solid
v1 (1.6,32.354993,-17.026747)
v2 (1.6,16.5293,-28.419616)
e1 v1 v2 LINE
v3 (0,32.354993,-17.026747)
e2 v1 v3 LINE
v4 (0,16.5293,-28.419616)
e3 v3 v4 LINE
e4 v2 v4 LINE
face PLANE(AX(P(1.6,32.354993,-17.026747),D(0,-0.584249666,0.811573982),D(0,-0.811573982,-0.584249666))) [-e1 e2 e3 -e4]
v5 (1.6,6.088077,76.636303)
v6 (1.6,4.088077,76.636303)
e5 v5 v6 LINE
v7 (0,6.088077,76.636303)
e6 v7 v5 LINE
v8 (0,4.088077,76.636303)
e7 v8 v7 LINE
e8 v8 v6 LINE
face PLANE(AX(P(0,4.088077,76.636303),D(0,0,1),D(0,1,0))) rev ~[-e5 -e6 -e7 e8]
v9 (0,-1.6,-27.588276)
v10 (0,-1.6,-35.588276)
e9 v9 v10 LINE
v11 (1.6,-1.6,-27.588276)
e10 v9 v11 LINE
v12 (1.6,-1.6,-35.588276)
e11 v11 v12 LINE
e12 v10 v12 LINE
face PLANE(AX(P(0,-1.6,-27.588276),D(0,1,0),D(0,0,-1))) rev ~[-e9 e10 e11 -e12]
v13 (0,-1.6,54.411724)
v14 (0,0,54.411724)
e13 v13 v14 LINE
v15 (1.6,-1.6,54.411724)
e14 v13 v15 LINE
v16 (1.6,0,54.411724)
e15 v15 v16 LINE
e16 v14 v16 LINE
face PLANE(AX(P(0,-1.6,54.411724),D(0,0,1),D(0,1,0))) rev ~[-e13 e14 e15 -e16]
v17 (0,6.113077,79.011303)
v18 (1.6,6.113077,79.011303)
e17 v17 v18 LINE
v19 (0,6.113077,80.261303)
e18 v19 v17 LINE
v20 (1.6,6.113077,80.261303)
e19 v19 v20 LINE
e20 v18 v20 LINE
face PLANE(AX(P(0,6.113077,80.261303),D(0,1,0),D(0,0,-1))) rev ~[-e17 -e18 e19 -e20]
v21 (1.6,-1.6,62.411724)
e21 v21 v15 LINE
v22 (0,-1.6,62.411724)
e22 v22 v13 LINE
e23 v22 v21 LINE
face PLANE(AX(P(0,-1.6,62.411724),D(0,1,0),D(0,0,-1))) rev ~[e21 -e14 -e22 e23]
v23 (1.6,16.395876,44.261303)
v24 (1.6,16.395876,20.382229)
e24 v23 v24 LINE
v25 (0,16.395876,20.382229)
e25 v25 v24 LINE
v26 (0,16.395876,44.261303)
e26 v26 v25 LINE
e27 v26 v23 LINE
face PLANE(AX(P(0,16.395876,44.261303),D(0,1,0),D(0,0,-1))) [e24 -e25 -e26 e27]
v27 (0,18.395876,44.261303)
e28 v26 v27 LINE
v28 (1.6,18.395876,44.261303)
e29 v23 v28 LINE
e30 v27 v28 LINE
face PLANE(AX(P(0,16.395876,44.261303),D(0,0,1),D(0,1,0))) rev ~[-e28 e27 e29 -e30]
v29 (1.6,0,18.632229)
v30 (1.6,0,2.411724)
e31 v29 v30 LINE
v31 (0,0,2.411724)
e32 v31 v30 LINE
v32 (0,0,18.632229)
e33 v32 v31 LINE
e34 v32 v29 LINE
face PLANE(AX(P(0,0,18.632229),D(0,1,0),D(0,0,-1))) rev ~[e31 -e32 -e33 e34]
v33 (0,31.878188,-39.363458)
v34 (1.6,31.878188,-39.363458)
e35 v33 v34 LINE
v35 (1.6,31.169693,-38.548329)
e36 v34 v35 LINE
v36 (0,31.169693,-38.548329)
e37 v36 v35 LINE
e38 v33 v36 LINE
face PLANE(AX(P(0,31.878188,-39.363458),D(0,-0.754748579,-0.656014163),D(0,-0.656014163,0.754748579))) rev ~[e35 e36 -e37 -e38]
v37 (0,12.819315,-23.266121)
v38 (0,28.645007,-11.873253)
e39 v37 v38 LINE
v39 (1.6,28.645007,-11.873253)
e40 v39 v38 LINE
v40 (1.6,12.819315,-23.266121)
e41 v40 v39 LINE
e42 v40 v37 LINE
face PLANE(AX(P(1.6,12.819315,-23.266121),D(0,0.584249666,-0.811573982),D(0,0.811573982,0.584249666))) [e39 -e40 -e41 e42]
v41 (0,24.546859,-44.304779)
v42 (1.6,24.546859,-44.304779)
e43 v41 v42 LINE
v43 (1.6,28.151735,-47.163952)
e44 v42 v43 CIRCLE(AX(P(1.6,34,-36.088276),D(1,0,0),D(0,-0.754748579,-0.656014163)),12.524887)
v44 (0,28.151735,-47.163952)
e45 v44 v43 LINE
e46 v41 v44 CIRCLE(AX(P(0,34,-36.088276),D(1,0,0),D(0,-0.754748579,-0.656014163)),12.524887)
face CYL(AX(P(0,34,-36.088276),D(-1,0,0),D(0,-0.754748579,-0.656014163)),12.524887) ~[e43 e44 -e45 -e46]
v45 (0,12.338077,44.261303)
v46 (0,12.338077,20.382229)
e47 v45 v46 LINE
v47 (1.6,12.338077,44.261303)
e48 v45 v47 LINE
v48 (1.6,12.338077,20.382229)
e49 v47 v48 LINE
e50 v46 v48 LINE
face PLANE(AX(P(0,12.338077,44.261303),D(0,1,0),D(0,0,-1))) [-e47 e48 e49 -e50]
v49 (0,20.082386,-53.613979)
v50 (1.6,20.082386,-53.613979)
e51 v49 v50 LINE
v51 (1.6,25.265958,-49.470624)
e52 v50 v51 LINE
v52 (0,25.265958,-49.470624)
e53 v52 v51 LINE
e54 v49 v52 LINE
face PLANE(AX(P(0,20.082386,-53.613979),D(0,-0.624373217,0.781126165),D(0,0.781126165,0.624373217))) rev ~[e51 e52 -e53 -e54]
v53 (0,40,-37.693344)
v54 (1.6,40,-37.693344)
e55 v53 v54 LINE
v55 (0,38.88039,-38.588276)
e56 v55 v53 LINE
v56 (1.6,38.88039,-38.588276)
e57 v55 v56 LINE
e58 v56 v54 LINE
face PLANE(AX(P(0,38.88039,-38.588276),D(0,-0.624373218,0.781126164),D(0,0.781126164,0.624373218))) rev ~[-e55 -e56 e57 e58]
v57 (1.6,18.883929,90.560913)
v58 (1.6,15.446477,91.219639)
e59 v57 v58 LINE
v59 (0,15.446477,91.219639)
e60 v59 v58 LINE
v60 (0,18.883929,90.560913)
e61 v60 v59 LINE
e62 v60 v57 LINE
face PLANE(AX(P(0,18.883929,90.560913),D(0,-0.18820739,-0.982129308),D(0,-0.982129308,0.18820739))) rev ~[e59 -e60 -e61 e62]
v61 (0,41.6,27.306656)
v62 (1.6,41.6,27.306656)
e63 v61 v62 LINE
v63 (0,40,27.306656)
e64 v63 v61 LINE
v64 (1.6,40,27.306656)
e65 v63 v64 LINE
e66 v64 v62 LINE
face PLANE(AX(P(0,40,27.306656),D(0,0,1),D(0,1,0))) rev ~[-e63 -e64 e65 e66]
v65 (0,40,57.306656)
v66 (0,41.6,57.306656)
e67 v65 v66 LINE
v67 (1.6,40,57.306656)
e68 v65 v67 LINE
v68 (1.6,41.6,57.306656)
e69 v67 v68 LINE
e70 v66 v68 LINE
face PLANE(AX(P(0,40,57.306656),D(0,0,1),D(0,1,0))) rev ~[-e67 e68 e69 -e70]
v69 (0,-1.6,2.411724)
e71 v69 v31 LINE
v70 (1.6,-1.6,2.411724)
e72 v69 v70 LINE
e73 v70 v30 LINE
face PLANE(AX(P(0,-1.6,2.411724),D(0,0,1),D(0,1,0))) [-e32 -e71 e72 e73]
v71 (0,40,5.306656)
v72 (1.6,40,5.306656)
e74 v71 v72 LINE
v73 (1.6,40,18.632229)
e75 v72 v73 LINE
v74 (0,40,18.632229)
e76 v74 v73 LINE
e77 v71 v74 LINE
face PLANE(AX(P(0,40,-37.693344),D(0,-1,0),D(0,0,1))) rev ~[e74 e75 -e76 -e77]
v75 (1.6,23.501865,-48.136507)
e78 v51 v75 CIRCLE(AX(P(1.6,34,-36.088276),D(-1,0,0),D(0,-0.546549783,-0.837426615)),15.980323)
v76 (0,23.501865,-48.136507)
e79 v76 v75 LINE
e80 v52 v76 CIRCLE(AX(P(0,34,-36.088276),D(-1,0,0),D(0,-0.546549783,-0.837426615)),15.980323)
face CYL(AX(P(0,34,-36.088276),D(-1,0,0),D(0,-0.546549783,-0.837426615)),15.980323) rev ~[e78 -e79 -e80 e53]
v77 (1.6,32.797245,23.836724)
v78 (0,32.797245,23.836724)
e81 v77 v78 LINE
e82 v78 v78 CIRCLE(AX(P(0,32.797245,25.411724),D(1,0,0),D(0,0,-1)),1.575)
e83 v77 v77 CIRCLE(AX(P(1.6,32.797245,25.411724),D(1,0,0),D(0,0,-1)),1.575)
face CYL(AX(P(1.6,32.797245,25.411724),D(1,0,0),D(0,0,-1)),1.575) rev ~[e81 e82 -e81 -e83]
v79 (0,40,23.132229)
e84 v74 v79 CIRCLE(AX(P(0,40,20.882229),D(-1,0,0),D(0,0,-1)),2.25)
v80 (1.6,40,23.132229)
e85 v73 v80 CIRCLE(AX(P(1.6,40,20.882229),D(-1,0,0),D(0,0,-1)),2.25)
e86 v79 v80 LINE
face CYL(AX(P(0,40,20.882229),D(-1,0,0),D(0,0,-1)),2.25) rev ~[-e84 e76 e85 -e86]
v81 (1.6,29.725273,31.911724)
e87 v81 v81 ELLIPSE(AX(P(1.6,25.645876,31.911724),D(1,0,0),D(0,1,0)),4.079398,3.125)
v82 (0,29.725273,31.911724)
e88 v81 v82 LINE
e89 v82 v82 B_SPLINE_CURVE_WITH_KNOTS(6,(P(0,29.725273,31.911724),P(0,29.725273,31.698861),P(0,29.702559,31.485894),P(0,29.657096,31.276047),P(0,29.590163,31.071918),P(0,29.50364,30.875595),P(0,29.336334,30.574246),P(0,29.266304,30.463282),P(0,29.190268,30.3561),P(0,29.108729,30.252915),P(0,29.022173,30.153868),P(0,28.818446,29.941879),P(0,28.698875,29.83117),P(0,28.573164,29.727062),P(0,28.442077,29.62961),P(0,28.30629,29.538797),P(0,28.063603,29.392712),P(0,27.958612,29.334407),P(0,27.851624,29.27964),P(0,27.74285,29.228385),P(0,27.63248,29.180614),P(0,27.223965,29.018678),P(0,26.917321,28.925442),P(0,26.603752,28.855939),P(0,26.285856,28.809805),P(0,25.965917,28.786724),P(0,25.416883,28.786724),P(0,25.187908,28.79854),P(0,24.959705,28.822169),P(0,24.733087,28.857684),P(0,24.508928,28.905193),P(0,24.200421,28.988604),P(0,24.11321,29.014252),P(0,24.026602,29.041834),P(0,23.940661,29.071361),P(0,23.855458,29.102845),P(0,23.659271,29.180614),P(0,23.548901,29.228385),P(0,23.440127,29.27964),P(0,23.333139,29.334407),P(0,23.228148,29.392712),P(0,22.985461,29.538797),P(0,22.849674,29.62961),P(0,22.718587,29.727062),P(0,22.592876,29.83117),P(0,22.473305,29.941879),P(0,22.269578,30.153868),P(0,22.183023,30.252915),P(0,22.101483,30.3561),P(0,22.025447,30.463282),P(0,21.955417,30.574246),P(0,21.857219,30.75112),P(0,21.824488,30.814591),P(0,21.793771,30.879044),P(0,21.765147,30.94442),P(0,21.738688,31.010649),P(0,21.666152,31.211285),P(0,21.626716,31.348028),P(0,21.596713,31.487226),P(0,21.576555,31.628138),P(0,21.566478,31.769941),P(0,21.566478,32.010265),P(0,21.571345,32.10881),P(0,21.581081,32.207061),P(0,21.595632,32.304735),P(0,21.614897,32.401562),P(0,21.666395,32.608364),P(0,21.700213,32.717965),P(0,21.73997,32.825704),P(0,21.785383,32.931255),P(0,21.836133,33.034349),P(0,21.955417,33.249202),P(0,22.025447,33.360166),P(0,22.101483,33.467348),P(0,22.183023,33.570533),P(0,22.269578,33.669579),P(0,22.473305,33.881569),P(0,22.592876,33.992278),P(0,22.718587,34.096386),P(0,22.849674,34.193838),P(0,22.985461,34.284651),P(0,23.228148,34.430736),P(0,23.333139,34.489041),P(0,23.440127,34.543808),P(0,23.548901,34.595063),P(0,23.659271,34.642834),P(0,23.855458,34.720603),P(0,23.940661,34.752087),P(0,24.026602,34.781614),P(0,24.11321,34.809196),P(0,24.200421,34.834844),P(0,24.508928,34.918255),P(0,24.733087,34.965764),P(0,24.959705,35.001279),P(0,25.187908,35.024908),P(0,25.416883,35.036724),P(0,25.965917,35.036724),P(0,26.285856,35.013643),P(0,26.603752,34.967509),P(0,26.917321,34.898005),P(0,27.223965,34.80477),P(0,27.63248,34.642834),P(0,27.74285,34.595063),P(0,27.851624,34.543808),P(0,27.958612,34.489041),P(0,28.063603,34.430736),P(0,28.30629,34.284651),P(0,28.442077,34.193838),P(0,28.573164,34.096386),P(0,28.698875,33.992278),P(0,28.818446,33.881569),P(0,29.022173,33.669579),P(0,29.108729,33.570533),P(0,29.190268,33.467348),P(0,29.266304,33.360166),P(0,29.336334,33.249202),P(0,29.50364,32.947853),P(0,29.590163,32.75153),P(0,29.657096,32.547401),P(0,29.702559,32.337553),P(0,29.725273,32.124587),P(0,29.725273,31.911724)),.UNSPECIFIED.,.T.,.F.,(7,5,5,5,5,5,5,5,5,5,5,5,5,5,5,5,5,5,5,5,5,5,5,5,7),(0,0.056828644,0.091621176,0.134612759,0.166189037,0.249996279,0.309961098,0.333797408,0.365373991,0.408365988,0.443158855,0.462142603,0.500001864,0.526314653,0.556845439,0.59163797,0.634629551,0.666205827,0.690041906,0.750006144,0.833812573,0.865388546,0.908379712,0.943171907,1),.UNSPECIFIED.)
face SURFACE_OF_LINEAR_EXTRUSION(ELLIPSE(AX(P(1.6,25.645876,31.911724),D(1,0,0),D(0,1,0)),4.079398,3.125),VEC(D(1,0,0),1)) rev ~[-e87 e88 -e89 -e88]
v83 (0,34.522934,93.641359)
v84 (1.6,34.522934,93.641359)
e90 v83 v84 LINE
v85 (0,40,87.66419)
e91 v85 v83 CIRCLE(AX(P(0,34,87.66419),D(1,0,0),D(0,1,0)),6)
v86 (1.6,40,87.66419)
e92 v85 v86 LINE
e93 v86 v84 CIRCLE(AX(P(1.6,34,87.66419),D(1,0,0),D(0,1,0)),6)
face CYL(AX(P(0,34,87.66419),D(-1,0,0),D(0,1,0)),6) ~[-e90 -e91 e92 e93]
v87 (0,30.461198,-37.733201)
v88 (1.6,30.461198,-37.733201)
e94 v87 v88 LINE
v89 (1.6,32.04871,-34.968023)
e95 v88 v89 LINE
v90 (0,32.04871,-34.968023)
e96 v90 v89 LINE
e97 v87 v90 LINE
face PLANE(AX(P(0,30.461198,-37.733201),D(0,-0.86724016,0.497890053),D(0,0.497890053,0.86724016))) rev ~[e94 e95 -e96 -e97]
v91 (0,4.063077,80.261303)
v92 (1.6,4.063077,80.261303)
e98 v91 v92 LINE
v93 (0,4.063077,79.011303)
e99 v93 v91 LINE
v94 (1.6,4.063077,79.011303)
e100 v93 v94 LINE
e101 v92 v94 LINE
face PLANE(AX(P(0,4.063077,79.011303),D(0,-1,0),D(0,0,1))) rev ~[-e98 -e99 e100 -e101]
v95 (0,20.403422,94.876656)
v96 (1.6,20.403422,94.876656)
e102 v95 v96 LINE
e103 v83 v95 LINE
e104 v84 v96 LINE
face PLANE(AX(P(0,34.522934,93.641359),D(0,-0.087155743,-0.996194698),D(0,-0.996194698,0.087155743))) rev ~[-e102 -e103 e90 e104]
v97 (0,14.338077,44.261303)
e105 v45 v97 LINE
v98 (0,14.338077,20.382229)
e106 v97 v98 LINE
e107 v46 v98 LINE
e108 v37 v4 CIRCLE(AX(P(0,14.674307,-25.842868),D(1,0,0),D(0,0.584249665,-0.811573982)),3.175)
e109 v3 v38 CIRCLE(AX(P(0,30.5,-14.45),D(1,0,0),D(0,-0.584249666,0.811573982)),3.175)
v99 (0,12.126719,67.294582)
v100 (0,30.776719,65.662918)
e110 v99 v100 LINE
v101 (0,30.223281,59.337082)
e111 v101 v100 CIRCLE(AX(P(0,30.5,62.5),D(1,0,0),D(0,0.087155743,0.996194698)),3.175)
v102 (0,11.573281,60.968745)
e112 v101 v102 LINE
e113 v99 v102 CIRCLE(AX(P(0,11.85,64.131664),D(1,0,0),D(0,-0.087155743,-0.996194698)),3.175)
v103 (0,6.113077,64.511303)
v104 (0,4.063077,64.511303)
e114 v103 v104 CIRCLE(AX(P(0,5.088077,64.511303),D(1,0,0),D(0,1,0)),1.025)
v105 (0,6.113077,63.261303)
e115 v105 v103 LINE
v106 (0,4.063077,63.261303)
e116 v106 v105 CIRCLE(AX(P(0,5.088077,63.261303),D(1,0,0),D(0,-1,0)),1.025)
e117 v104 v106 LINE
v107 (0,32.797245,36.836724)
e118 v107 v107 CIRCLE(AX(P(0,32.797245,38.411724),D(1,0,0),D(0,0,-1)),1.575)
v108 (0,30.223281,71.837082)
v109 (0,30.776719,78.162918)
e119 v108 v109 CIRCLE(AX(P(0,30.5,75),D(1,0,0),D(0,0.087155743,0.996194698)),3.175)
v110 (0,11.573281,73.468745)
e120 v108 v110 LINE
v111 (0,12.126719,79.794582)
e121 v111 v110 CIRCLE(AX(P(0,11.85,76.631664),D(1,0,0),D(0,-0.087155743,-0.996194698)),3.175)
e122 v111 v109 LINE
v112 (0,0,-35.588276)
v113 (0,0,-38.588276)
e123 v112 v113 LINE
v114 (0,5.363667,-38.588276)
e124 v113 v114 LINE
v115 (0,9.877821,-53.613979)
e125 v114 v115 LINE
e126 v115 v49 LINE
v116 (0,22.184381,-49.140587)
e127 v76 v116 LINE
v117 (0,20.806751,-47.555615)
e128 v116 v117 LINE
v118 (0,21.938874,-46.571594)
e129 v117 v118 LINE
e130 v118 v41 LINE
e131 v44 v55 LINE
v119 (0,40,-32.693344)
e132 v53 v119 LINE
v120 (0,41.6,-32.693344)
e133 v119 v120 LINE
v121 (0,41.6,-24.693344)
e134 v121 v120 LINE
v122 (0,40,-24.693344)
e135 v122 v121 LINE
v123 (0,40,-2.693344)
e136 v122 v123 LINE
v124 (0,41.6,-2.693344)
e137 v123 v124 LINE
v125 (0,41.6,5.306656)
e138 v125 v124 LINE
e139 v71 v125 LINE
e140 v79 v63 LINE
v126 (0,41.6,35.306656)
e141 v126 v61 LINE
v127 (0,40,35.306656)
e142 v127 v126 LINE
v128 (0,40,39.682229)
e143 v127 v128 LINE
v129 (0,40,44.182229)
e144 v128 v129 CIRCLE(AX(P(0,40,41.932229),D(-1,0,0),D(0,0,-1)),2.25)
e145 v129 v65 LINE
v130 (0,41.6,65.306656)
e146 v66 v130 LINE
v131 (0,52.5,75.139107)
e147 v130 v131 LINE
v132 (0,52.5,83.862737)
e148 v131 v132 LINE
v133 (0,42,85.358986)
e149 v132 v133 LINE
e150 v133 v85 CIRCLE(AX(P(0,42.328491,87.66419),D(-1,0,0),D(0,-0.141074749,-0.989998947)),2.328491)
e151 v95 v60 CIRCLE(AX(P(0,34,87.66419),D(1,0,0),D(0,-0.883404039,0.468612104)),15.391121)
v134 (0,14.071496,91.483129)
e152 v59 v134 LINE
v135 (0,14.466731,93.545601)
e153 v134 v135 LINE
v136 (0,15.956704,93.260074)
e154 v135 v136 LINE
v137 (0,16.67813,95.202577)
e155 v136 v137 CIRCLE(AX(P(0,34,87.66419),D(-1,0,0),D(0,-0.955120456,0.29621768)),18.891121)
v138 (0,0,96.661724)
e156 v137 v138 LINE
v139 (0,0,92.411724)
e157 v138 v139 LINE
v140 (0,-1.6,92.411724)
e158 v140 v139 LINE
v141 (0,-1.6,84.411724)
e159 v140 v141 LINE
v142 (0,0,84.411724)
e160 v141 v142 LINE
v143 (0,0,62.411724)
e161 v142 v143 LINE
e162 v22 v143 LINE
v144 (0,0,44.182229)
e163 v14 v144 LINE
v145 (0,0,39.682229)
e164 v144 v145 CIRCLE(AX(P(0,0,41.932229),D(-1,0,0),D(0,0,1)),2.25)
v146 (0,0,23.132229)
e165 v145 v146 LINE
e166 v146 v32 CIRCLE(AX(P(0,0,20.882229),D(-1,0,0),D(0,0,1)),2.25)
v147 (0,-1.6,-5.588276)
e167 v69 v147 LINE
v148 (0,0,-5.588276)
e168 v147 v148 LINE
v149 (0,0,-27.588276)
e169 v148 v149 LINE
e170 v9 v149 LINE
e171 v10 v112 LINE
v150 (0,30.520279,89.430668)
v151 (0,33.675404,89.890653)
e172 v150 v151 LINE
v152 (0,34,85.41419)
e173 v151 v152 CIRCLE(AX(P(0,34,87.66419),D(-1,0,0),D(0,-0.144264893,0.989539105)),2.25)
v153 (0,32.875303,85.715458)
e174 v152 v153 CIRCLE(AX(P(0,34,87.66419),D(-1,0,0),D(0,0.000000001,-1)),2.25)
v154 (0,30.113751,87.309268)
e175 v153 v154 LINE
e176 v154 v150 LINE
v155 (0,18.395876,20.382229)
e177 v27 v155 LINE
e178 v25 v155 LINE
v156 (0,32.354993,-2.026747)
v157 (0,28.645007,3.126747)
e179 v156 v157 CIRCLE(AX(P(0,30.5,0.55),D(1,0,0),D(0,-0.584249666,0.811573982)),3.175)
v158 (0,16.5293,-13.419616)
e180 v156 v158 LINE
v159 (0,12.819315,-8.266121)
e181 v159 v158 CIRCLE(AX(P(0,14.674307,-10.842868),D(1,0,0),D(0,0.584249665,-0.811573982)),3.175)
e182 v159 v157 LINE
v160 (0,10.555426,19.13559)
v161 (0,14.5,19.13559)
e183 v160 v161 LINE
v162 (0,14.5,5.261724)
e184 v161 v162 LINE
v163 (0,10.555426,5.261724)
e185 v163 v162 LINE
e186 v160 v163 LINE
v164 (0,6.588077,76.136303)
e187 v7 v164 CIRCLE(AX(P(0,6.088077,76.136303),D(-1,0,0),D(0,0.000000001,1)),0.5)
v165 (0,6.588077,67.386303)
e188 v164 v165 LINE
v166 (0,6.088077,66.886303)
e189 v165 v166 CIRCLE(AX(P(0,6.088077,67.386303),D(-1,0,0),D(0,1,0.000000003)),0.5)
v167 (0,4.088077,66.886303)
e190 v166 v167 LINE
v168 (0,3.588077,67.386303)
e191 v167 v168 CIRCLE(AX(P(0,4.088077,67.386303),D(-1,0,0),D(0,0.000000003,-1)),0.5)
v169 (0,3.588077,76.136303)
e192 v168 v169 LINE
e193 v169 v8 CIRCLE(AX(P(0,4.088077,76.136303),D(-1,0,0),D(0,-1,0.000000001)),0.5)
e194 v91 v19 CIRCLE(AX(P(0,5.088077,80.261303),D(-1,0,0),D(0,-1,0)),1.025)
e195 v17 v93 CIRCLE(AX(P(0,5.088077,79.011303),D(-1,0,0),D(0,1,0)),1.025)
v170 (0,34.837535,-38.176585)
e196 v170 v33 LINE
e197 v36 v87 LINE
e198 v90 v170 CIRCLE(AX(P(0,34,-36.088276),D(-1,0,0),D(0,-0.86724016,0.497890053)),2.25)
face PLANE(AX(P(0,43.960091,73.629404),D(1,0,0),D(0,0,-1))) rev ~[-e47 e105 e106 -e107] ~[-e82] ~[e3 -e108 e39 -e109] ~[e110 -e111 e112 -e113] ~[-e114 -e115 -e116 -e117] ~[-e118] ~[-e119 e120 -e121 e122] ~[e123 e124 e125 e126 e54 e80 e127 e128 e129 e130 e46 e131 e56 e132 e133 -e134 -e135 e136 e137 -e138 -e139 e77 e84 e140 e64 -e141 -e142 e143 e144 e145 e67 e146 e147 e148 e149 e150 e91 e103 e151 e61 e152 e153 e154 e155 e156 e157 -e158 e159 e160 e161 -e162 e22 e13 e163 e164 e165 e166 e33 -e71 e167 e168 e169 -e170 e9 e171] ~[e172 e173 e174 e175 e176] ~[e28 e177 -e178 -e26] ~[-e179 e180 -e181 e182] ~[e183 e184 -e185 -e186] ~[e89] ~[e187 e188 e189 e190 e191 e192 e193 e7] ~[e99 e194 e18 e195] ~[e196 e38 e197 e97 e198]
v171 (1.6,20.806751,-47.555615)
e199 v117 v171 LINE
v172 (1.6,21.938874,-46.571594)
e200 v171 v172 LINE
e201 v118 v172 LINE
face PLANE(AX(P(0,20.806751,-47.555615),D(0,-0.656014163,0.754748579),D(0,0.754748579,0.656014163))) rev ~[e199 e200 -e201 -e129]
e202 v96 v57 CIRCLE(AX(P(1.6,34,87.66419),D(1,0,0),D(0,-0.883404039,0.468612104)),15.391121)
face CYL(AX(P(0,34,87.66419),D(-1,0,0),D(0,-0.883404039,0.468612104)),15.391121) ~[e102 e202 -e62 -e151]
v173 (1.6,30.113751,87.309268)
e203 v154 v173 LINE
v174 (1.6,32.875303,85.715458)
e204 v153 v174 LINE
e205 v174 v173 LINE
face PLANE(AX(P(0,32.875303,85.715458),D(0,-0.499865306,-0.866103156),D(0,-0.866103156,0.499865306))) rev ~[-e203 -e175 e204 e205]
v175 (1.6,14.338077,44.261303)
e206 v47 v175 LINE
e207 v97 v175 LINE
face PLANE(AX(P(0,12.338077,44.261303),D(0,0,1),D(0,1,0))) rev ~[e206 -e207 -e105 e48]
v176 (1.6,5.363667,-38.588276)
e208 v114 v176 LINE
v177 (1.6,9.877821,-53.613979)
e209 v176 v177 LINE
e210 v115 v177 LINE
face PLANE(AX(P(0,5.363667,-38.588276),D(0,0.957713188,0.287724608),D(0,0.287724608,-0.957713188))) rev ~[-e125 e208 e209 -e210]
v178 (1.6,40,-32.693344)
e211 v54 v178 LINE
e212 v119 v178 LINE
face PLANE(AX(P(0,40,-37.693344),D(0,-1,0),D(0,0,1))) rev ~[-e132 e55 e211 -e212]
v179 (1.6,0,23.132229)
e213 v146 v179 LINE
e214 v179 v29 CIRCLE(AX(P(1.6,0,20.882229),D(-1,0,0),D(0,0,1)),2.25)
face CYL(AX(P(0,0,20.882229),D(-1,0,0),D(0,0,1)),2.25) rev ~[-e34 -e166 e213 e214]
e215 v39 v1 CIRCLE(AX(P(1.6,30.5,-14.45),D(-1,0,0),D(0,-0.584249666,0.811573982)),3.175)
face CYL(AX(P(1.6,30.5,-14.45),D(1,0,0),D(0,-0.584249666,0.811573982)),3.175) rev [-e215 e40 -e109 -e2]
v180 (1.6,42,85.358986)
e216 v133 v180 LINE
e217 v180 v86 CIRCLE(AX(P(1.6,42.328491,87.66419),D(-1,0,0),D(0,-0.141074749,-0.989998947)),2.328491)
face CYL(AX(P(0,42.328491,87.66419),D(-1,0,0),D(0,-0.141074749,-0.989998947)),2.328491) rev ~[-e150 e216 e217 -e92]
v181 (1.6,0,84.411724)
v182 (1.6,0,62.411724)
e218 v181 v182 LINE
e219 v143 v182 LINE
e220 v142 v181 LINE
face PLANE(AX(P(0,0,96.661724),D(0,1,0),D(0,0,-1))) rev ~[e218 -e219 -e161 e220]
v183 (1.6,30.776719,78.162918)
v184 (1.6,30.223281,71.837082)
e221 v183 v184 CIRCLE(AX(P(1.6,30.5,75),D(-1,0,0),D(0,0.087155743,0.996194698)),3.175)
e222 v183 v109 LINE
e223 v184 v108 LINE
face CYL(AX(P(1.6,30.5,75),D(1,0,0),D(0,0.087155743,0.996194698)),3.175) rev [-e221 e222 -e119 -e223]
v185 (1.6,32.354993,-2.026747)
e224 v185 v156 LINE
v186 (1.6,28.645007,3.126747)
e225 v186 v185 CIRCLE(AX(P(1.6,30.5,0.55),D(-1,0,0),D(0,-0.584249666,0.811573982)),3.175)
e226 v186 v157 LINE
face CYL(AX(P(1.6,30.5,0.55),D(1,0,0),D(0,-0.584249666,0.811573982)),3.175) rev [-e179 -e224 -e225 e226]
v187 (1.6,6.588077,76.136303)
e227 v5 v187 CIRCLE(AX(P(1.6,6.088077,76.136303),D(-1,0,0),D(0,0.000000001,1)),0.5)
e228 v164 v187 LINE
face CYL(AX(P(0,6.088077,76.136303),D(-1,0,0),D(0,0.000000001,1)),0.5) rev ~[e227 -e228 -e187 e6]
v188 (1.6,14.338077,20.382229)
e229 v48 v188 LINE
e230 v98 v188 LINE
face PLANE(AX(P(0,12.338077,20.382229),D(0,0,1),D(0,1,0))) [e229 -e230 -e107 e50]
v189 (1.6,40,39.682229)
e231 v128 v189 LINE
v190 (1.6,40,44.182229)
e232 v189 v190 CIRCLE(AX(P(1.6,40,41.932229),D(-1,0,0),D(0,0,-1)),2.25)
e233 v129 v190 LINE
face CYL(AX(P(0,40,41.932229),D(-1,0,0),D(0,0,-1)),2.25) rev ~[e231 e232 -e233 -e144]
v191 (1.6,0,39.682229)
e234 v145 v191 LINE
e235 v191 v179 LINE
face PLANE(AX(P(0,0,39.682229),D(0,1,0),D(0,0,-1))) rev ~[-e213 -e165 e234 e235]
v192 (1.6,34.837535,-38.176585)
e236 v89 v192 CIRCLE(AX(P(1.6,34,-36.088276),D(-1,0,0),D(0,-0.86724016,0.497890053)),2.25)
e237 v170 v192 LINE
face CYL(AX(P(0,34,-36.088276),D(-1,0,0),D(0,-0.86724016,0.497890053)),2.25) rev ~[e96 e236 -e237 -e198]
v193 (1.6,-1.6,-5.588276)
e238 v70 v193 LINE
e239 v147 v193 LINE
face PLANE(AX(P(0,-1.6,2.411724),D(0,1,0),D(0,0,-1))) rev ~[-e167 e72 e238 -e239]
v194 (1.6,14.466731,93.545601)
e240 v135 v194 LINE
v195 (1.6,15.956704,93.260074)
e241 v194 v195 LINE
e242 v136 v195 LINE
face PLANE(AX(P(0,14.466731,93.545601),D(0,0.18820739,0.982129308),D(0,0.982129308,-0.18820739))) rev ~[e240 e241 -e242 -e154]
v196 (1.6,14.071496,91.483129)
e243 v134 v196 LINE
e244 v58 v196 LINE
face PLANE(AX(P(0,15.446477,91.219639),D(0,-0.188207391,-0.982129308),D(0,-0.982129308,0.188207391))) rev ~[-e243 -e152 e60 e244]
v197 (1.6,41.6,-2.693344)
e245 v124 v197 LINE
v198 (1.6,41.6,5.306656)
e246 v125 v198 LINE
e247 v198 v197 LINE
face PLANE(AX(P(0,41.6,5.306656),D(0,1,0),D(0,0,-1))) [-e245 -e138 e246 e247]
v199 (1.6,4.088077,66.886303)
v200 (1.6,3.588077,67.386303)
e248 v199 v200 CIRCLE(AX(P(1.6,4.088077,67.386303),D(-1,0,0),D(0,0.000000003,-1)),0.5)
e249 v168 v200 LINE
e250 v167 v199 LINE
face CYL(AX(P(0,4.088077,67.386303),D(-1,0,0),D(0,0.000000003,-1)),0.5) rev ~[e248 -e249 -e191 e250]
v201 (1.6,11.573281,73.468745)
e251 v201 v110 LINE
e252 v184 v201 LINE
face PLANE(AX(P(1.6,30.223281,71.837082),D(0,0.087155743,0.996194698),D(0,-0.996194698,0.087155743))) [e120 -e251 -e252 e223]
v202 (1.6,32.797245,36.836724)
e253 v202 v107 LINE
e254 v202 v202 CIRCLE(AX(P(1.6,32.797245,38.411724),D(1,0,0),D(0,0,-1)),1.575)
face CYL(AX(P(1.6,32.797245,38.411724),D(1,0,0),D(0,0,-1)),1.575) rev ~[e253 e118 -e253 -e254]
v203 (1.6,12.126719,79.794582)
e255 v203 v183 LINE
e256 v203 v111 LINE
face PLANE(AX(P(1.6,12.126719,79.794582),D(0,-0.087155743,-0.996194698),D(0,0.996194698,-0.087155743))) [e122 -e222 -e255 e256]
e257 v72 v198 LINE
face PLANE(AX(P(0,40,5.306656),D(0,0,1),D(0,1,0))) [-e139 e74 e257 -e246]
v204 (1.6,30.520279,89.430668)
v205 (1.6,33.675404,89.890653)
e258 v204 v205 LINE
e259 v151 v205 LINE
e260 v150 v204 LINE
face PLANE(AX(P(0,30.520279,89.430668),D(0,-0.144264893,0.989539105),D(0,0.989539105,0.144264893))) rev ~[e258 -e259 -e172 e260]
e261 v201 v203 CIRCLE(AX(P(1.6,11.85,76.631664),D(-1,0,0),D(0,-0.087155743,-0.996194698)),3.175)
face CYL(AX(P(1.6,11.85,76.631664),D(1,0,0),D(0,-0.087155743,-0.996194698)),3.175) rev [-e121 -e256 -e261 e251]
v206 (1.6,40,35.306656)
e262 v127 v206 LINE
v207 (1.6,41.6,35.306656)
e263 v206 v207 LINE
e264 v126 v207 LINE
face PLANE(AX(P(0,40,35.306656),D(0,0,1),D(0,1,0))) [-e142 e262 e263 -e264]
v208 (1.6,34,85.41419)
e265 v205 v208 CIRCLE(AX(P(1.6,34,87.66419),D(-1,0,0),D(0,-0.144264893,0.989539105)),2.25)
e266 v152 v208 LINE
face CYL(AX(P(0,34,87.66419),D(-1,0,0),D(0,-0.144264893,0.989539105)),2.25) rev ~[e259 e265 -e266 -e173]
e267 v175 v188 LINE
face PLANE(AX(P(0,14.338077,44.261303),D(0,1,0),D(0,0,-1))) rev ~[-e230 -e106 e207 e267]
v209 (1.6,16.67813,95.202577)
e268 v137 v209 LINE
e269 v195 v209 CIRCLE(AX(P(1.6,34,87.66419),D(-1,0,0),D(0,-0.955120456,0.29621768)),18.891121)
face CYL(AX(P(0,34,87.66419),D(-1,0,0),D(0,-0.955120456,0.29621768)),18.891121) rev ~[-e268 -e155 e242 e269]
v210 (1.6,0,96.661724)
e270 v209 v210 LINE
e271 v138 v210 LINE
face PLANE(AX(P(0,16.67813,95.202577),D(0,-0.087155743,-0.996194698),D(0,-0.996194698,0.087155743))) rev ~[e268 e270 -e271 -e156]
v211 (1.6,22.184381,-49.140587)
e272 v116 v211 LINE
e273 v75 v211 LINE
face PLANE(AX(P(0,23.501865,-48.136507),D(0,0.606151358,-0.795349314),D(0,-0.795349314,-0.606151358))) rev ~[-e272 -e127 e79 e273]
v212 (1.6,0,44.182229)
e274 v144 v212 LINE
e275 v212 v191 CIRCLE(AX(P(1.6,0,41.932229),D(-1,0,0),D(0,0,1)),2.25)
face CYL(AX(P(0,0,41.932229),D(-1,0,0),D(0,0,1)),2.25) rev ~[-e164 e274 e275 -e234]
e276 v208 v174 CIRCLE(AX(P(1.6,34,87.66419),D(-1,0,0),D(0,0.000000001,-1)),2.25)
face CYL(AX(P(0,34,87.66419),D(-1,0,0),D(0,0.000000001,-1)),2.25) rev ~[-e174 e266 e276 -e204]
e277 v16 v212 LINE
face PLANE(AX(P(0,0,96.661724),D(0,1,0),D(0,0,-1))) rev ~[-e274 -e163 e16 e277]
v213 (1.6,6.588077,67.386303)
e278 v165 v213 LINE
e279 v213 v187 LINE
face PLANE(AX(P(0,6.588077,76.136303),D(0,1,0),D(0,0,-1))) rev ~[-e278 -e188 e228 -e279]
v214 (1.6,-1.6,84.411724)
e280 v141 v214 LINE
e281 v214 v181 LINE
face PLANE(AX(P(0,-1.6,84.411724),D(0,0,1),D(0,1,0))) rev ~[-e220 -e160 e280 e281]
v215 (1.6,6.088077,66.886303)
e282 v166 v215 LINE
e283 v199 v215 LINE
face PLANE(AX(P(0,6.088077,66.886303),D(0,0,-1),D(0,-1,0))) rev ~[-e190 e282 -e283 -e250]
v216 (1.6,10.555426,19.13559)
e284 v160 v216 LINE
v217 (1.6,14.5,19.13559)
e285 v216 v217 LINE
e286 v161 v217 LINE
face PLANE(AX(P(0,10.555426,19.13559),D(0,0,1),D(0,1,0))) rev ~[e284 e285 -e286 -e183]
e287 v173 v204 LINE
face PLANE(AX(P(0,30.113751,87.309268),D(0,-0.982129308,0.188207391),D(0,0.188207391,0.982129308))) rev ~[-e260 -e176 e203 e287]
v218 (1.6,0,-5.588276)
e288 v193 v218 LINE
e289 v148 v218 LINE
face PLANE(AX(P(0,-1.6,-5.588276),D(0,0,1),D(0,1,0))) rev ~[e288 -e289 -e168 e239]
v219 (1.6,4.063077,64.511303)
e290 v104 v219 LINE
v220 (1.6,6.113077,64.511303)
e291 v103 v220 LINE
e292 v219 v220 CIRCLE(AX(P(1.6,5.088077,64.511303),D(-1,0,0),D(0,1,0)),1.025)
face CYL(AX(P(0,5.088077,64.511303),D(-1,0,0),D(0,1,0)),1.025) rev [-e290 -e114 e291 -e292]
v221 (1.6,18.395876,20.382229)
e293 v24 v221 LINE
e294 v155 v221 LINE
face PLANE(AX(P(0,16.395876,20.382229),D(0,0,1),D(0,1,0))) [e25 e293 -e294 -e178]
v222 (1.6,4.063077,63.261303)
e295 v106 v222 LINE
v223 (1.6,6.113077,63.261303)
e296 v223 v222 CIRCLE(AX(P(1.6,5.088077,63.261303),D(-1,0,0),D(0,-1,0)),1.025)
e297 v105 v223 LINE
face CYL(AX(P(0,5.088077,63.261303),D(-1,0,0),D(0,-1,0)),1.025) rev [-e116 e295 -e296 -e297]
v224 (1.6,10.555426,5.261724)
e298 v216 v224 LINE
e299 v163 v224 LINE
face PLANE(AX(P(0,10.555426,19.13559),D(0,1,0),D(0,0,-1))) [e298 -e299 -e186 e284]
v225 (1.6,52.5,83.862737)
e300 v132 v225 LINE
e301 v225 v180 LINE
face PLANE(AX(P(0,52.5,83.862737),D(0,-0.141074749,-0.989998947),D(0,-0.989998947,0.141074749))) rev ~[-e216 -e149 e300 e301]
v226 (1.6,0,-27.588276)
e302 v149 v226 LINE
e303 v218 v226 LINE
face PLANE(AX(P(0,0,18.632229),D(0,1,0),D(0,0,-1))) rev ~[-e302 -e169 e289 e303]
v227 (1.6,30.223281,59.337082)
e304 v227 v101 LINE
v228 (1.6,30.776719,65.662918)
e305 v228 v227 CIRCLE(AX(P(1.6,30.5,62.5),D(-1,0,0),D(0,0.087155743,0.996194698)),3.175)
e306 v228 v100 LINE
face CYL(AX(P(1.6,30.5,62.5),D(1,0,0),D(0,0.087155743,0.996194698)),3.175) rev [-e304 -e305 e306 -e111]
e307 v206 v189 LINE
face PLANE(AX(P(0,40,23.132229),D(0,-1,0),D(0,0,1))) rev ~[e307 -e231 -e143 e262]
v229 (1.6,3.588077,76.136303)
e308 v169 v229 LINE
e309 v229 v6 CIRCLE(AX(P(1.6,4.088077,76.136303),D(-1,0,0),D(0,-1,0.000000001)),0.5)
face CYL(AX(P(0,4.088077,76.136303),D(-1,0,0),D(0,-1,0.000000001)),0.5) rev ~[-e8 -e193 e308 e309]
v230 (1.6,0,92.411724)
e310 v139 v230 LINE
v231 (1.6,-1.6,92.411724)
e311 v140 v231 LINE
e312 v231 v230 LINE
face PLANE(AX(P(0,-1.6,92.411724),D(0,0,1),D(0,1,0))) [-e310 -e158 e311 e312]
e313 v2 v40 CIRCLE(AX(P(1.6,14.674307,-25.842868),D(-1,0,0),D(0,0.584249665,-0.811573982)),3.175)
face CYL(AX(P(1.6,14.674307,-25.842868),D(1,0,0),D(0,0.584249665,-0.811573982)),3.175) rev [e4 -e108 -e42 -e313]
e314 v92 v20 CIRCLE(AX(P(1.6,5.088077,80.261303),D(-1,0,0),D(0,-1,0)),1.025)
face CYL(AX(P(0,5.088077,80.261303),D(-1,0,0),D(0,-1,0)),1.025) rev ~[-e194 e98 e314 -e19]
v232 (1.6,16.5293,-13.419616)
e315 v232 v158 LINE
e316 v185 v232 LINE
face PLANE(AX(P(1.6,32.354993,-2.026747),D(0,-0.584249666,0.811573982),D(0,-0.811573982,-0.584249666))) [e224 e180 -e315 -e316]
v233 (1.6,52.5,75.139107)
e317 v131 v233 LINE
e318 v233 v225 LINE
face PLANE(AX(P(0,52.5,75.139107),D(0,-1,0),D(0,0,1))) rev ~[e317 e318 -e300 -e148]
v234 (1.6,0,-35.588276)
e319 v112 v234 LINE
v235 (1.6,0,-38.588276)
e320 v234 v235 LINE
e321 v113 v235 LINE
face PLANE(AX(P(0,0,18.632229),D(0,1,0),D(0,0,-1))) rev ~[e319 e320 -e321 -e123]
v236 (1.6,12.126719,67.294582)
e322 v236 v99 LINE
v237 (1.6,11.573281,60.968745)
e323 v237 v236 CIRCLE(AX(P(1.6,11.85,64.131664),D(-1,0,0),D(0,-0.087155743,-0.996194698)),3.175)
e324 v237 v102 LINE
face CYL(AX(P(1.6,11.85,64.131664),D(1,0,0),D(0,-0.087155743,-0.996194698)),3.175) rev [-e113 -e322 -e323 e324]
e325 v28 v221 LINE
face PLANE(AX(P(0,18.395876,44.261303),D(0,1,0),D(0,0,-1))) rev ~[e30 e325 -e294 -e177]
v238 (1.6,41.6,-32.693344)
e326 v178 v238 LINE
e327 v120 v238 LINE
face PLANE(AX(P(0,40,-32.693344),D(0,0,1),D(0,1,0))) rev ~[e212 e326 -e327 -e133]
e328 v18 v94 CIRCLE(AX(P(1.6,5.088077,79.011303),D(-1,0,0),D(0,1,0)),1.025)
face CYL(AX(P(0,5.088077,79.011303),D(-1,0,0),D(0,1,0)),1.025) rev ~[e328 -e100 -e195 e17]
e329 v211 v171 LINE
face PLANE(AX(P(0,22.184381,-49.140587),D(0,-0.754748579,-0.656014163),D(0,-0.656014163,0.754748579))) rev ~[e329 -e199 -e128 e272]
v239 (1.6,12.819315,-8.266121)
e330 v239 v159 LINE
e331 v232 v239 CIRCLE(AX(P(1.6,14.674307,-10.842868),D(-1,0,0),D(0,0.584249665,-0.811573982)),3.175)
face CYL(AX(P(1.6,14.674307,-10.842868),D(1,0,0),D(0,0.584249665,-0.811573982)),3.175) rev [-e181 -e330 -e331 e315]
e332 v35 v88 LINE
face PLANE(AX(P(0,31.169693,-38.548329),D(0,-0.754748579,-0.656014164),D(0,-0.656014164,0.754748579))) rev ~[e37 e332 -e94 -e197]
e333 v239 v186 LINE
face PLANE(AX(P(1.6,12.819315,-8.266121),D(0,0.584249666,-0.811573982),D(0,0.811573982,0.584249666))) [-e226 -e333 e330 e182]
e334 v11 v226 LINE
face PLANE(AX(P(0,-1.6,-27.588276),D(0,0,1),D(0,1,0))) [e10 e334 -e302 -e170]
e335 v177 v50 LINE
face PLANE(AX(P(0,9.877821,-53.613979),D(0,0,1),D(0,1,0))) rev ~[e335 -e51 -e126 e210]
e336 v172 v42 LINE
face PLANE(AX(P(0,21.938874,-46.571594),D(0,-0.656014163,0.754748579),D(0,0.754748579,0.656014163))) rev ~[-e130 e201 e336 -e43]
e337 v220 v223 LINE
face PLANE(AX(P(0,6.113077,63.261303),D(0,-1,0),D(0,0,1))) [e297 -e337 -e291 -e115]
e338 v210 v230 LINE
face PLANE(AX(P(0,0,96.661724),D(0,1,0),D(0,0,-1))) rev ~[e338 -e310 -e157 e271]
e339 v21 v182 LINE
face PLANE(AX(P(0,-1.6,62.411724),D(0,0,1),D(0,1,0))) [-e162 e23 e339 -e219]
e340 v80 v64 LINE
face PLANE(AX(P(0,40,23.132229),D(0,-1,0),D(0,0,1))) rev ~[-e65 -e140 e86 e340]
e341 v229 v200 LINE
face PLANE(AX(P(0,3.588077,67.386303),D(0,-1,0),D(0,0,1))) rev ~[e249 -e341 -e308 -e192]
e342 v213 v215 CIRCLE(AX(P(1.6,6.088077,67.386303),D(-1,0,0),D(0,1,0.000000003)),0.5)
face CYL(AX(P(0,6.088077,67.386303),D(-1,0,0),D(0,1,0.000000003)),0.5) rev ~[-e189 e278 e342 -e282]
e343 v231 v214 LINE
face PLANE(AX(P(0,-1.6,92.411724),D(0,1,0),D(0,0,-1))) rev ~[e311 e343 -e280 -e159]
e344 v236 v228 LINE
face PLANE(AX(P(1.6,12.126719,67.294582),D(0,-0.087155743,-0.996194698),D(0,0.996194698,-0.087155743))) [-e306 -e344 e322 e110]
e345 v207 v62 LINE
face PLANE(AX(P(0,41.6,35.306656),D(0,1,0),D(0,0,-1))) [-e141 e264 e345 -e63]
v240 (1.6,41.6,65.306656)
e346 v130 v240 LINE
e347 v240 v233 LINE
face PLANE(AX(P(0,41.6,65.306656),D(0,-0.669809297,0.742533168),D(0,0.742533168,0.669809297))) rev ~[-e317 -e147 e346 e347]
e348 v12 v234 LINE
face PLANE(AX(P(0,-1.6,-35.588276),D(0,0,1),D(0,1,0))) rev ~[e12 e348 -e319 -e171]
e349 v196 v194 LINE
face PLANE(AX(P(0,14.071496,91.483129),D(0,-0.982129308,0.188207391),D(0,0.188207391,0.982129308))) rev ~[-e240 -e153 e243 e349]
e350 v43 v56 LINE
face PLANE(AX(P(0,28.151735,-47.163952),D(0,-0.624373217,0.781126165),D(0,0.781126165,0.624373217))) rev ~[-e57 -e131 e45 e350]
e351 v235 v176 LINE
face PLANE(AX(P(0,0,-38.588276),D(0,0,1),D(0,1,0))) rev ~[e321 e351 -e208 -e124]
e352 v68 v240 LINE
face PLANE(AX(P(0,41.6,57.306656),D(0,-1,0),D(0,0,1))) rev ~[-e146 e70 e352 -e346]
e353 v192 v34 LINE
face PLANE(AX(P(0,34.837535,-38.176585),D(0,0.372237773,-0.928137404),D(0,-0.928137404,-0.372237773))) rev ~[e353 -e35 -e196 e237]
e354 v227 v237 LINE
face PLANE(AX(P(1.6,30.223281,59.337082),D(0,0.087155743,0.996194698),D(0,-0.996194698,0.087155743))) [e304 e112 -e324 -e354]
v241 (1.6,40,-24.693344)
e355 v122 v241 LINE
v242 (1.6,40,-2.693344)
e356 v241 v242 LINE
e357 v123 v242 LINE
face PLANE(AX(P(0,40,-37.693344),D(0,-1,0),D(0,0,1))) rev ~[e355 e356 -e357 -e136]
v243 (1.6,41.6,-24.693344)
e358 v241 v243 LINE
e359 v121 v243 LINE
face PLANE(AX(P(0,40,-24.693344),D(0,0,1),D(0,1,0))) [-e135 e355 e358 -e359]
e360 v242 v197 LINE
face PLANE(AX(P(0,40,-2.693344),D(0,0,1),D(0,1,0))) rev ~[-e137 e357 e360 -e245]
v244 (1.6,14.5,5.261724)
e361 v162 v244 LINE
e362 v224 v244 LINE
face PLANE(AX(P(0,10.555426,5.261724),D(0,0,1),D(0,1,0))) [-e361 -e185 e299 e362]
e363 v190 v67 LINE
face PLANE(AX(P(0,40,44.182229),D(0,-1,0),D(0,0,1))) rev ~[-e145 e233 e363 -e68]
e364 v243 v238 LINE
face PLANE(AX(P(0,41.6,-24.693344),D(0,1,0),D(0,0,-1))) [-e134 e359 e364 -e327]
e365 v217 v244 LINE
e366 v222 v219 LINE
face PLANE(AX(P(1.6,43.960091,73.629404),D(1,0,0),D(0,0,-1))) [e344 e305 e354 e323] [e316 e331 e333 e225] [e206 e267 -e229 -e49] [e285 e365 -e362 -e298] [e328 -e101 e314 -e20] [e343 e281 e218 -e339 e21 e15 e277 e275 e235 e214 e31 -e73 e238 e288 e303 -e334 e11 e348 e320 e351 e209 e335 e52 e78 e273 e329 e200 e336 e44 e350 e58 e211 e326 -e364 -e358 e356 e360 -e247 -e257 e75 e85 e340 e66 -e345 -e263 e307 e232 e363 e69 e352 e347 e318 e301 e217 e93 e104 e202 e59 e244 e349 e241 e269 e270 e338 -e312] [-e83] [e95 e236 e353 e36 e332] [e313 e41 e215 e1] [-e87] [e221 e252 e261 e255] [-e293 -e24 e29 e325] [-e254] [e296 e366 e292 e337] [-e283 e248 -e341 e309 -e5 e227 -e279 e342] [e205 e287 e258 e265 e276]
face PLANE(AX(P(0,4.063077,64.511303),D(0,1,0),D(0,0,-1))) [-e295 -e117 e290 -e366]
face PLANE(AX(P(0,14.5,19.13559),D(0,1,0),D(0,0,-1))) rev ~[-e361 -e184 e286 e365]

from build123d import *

# Parameters (mm, degrees)
SKETCH_215_W           = 23.879073069
SKETCH_215_H           = 2
SKETCH_215_W_2         = 13.873866224
SKETCH_215_H_2         = 3.944574251
EXTRUDE_1_DEPTH        = 1.6
SKETCH_2_W             = 8
SKETCH_2_H             = 1.6
EXTRUDE_3744_DEPTH     = 1.6
SKETCH_3858_R          = 1.575
SKETCH_3858_RX         = 4.079397779
SKETCH_3858_RY         = 3.125
CUT_EXTRUDE_4259_DEPTH = 111.010448945
CUT_EXTRUDE_4725_DEPTH = 111.010449082
USB_C_DEPTH            = 111.010449082


with BuildPart() as part:
    # Sketch 215 → 凸台-拉伸1 (new body)
    with BuildSketch(Plane(origin=(0, 0, 0), x_dir=(0, 0, -1), z_dir=(1, 0, 0))):
        with BuildLine():
            Line((-95.202576637, 16.678130112), (-96.66172395, 0))
            Line((-96.66172395, 0), (-44.182229478, 0))
            ThreePointArc((-44.182229478, 0), (-41.932229478, 2.25), (-39.682229478, 0))
            Line((-39.682229478, 0), (-23.132229478, 0))
            ThreePointArc((-23.132229478, 0), (-20.882229478, 2.25), (-18.632229478, 0))
            Line((-18.632229478, 0), (38.58827605, 0))
            Line((38.58827605, 0), (38.58827605, 5.363667343))
            Line((38.58827605, 5.363667343), (53.613979238, 9.877821069))
            Line((53.613979238, 9.877821069), (53.613979238, 20.082386187))
            Line((53.613979238, 20.082386187), (49.47062371, 25.265958003))
            ThreePointArc((49.47062371, 25.265958003), (48.834122057, 24.360802519), (48.136507156, 23.501864655))
            Line((48.136507156, 23.501864655), (49.140587437, 22.184380908))
            Line((49.140587437, 22.184380908), (47.555615421, 20.806751165))
            Line((47.555615421, 20.806751165), (46.571594176, 21.938874033))
            Line((46.571594176, 21.938874033), (44.304779315, 24.546859335))
            ThreePointArc((44.304779315, 24.546859335), (45.901319607, 26.216879129), (47.163951689, 28.151735001))
            Line((47.163951689, 28.151735001), (38.58827605, 38.88038965))
            Line((38.58827605, 38.88038965), (37.693344157, 40))
            Line((37.693344157, 40), (-18.632229478, 40))
            ThreePointArc((-18.632229478, 40), (-20.882229478, 37.75), (-23.132229478, 40))
            Line((-23.132229478, 40), (-39.682229478, 40))
            ThreePointArc((-39.682229478, 40), (-41.932229478, 37.75), (-44.182229478, 40))
            Line((-44.182229478, 40), (-87.664190365, 40))
            ThreePointArc((-87.664190365, 40), (-91.717731611, 38.423664021), (-93.641358554, 34.522934456))
            Line((-93.641358554, 34.522934456), (-94.87665585, 20.403421746))
            ThreePointArc((-94.87665585, 20.403421746), (-92.775563539, 19.482408503), (-90.560913042, 18.883929203))
            Line((-90.560913042, 18.883929203), (-91.219638908, 15.446476624))
            Line((-91.219638908, 15.446476624), (-91.483129255, 14.071495593))
            Line((-91.483129255, 14.071495593), (-93.545600802, 14.466731113))
            Line((-93.545600802, 14.466731113), (-93.260074318, 15.956704104))
            ThreePointArc((-93.260074318, 15.956704104), (-94.241224457, 16.290763242), (-95.202576637, 16.678130112))
        make_face()
        with Locations((-32.321766012, 13.338077)):
            Rectangle(SKETCH_215_W, SKETCH_215_H, mode=Mode.SUBTRACT)
        with Locations((-32.321766012, 17.395875517)):
            Rectangle(SKETCH_215_W, SKETCH_215_H, mode=Mode.SUBTRACT)
        with Locations((-12.198657062, 12.527713279)):
            Rectangle(SKETCH_215_W_2, SKETCH_215_H_2, mode=Mode.SUBTRACT)
        with BuildLine():
            Line((-87.309268426, 30.113751112), (-88.369968079, 30.317015094))
            Line((-88.369968079, 30.317015094), (-89.430667732, 30.520279076))
            Line((-89.430667732, 30.520279076), (-89.890653352, 33.675403991))
            ThreePointArc((-89.890653352, 33.675403991), (-87.826914488, 36.244108032), (-85.414190365, 34))
            ThreePointArc((-85.414190365, 34), (-85.490811978, 33.417826153), (-85.715458265, 32.875303062))
            Line((-85.715458265, 32.875303062), (-87.309268426, 30.113751112))
        make_face(mode=Mode.SUBTRACT)
        with BuildLine():
            ThreePointArc((34.968023431, 32.04870964), (34.612244182, 35.698184303), (38.176585209, 34.837534989))
            Line((38.176585209, 34.837534989), (39.363457628, 31.878188125))
            Line((39.363457628, 31.878188125), (38.548329162, 31.169692829))
            Line((38.548329162, 31.169692829), (37.733200697, 30.461197532))
            Line((37.733200697, 30.461197532), (34.968023431, 32.04870964))
        make_face(mode=Mode.SUBTRACT)
    extrude(amount=EXTRUDE_1_DEPTH)

    # 草图2 → Extrude 3744 (add)
    with BuildSketch(Plane(origin=(0, 0, 0), x_dir=(0, 0, -1), z_dir=(1, 0, 0))):
        with Locations((31.58827605, -0.8)):
            Rectangle(SKETCH_2_W, SKETCH_2_H)
        with BuildLine():
            Line((-83.862737476, 52.5), (-85.358986401, 42))
            ThreePointArc((-85.358986401, 42), (-86.138250874, 40.569690448), (-87.664190365, 40))
            Line((-87.664190365, 40), (-65.306655843, 40))
            Line((-65.306655843, 40), (-57.306655843, 40))
            Line((-57.306655843, 40), (-57.306655843, 41.6))
            Line((-57.306655843, 41.6), (-65.306655843, 41.6))
            Line((-65.306655843, 41.6), (-75.139107316, 52.5))
            Line((-75.139107316, 52.5), (-83.862737476, 52.5))
        make_face()
        with Locations((1.58827605, -0.8)):
            Rectangle(SKETCH_2_W, SKETCH_2_H)
        with Locations((-58.41172395, -0.8)):
            Rectangle(SKETCH_2_W, SKETCH_2_H)
        with Locations((-88.41172395, -0.8)):
            Rectangle(SKETCH_2_W, SKETCH_2_H)
        with Locations((28.693344157, 40.8)):
            Rectangle(SKETCH_2_W, SKETCH_2_H)
        with Locations((-1.306655843, 40.8)):
            Rectangle(SKETCH_2_W, SKETCH_2_H)
        with Locations((-31.306655843, 40.8)):
            Rectangle(SKETCH_2_W, SKETCH_2_H)
    extrude(amount=EXTRUDE_3744_DEPTH)

    # Sketch 3858 → Cut-Extrude 4259 (cut, through all)
    with BuildSketch(Plane(origin=(1.6, 0, 0), x_dir=(0, 0, -1), z_dir=(1, 0, 0))):
        with Locations((-38.41172395, 32.797244765)):
            Circle(SKETCH_3858_R)
        with Locations((-25.41172395, 32.797244765)):
            Circle(SKETCH_3858_R)
        with Locations(Location((-31.91172395, 25.645875517), (0, 0, 90))):
            Ellipse(SKETCH_3858_RX, SKETCH_3858_RY)
    extrude(amount=-CUT_EXTRUDE_4259_DEPTH, mode=Mode.SUBTRACT)

    # 草图3 → Cut-Extrude 4725 (cut, through all)
    with BuildSketch(Plane(origin=(1.6, 0, 0), x_dir=(0, 0, -1), z_dir=(1, 0, 0))):
        with BuildLine():
            Line((-71.837081834, 30.223280517), (-73.468745408, 11.573280517))
            ThreePointArc((-73.468745408, 11.573280517), (-76.908383058, 8.687081834), (-79.794581741, 12.126719483))
            Line((-79.794581741, 12.126719483), (-78.162918166, 30.776719483))
            ThreePointArc((-78.162918166, 30.776719483), (-74.723280517, 33.662918166), (-71.837081834, 30.223280517))
        make_face()
        with BuildLine():
            Line((17.026747393, 32.354992688), (28.419615873, 16.52930004))
            ThreePointArc((28.419615873, 16.52930004), (27.697861168, 12.097559959), (23.266121087, 12.819314663))
            Line((23.266121087, 12.819314663), (11.873252607, 28.645007312))
            ThreePointArc((11.873252607, 28.645007312), (12.595007312, 33.076747393), (17.026747393, 32.354992688))
        make_face()
        with BuildLine():
            Line((2.026747393, 32.354992688), (13.419615873, 16.52930004))
            ThreePointArc((13.419615873, 16.52930004), (12.697861168, 12.097559959), (8.266121087, 12.819314663))
            Line((8.266121087, 12.819314663), (-3.126747393, 28.645007312))
            ThreePointArc((-3.126747393, 28.645007312), (-2.404992688, 33.076747393), (2.026747393, 32.354992688))
        make_face()
        with BuildLine():
            Line((-59.337081834, 30.223280517), (-60.968745408, 11.573280517))
            ThreePointArc((-60.968745408, 11.573280517), (-64.408383058, 8.687081834), (-67.294581741, 12.126719483))
            Line((-67.294581741, 12.126719483), (-65.662918166, 30.776719483))
            ThreePointArc((-65.662918166, 30.776719483), (-62.223280517, 33.662918166), (-59.337081834, 30.223280517))
        make_face()
    extrude(amount=-CUT_EXTRUDE_4725_DEPTH, mode=Mode.SUBTRACT)

    # Sketch1 → USB-C供电接口 (cut, through all)
    with BuildSketch(Plane(origin=(0, 0, 0), x_dir=(0, 0, -1), z_dir=(1, 0, 0))):
        with BuildLine():
            Line((-76.136302547, 6.588077), (-67.386302547, 6.588077))
            ThreePointArc((-67.386302547, 6.588077), (-67.032749156, 6.441630391), (-66.886302547, 6.088077))
            Line((-66.886302547, 6.088077), (-66.886302547, 4.088077))
            ThreePointArc((-66.886302547, 4.088077), (-67.032749156, 3.734523609), (-67.386302547, 3.588077))
            Line((-67.386302547, 3.588077), (-76.136302547, 3.588077))
            ThreePointArc((-76.136302547, 3.588077), (-76.489855937, 3.734523609), (-76.636302547, 4.088077))
            Line((-76.636302547, 4.088077), (-76.636302547, 6.088077))
            ThreePointArc((-76.636302547, 6.088077), (-76.489855937, 6.441630391), (-76.136302547, 6.588077))
        make_face()
        with BuildLine():
            Line((-79.011302547, 4.063077), (-80.261302547, 4.063077))
            ThreePointArc((-80.261302547, 4.063077), (-81.286302547, 5.088077), (-80.261302547, 6.113077))
            Line((-80.261302547, 6.113077), (-79.011302547, 6.113077))
            ThreePointArc((-79.011302547, 6.113077), (-77.986302547, 5.088077), (-79.011302547, 4.063077))
        make_face()
        with BuildLine():
            Line((-64.511302547, 4.063077), (-63.261302547, 4.063077))
            ThreePointArc((-63.261302547, 4.063077), (-62.236302547, 5.088077), (-63.261302547, 6.113077))
            Line((-63.261302547, 6.113077), (-64.511302547, 6.113077))
            ThreePointArc((-64.511302547, 6.113077), (-65.536302547, 5.088077), (-64.511302547, 4.063077))
        make_face()
    extrude(amount=USB_C_DEPTH, mode=Mode.SUBTRACT)


solid = part.part
